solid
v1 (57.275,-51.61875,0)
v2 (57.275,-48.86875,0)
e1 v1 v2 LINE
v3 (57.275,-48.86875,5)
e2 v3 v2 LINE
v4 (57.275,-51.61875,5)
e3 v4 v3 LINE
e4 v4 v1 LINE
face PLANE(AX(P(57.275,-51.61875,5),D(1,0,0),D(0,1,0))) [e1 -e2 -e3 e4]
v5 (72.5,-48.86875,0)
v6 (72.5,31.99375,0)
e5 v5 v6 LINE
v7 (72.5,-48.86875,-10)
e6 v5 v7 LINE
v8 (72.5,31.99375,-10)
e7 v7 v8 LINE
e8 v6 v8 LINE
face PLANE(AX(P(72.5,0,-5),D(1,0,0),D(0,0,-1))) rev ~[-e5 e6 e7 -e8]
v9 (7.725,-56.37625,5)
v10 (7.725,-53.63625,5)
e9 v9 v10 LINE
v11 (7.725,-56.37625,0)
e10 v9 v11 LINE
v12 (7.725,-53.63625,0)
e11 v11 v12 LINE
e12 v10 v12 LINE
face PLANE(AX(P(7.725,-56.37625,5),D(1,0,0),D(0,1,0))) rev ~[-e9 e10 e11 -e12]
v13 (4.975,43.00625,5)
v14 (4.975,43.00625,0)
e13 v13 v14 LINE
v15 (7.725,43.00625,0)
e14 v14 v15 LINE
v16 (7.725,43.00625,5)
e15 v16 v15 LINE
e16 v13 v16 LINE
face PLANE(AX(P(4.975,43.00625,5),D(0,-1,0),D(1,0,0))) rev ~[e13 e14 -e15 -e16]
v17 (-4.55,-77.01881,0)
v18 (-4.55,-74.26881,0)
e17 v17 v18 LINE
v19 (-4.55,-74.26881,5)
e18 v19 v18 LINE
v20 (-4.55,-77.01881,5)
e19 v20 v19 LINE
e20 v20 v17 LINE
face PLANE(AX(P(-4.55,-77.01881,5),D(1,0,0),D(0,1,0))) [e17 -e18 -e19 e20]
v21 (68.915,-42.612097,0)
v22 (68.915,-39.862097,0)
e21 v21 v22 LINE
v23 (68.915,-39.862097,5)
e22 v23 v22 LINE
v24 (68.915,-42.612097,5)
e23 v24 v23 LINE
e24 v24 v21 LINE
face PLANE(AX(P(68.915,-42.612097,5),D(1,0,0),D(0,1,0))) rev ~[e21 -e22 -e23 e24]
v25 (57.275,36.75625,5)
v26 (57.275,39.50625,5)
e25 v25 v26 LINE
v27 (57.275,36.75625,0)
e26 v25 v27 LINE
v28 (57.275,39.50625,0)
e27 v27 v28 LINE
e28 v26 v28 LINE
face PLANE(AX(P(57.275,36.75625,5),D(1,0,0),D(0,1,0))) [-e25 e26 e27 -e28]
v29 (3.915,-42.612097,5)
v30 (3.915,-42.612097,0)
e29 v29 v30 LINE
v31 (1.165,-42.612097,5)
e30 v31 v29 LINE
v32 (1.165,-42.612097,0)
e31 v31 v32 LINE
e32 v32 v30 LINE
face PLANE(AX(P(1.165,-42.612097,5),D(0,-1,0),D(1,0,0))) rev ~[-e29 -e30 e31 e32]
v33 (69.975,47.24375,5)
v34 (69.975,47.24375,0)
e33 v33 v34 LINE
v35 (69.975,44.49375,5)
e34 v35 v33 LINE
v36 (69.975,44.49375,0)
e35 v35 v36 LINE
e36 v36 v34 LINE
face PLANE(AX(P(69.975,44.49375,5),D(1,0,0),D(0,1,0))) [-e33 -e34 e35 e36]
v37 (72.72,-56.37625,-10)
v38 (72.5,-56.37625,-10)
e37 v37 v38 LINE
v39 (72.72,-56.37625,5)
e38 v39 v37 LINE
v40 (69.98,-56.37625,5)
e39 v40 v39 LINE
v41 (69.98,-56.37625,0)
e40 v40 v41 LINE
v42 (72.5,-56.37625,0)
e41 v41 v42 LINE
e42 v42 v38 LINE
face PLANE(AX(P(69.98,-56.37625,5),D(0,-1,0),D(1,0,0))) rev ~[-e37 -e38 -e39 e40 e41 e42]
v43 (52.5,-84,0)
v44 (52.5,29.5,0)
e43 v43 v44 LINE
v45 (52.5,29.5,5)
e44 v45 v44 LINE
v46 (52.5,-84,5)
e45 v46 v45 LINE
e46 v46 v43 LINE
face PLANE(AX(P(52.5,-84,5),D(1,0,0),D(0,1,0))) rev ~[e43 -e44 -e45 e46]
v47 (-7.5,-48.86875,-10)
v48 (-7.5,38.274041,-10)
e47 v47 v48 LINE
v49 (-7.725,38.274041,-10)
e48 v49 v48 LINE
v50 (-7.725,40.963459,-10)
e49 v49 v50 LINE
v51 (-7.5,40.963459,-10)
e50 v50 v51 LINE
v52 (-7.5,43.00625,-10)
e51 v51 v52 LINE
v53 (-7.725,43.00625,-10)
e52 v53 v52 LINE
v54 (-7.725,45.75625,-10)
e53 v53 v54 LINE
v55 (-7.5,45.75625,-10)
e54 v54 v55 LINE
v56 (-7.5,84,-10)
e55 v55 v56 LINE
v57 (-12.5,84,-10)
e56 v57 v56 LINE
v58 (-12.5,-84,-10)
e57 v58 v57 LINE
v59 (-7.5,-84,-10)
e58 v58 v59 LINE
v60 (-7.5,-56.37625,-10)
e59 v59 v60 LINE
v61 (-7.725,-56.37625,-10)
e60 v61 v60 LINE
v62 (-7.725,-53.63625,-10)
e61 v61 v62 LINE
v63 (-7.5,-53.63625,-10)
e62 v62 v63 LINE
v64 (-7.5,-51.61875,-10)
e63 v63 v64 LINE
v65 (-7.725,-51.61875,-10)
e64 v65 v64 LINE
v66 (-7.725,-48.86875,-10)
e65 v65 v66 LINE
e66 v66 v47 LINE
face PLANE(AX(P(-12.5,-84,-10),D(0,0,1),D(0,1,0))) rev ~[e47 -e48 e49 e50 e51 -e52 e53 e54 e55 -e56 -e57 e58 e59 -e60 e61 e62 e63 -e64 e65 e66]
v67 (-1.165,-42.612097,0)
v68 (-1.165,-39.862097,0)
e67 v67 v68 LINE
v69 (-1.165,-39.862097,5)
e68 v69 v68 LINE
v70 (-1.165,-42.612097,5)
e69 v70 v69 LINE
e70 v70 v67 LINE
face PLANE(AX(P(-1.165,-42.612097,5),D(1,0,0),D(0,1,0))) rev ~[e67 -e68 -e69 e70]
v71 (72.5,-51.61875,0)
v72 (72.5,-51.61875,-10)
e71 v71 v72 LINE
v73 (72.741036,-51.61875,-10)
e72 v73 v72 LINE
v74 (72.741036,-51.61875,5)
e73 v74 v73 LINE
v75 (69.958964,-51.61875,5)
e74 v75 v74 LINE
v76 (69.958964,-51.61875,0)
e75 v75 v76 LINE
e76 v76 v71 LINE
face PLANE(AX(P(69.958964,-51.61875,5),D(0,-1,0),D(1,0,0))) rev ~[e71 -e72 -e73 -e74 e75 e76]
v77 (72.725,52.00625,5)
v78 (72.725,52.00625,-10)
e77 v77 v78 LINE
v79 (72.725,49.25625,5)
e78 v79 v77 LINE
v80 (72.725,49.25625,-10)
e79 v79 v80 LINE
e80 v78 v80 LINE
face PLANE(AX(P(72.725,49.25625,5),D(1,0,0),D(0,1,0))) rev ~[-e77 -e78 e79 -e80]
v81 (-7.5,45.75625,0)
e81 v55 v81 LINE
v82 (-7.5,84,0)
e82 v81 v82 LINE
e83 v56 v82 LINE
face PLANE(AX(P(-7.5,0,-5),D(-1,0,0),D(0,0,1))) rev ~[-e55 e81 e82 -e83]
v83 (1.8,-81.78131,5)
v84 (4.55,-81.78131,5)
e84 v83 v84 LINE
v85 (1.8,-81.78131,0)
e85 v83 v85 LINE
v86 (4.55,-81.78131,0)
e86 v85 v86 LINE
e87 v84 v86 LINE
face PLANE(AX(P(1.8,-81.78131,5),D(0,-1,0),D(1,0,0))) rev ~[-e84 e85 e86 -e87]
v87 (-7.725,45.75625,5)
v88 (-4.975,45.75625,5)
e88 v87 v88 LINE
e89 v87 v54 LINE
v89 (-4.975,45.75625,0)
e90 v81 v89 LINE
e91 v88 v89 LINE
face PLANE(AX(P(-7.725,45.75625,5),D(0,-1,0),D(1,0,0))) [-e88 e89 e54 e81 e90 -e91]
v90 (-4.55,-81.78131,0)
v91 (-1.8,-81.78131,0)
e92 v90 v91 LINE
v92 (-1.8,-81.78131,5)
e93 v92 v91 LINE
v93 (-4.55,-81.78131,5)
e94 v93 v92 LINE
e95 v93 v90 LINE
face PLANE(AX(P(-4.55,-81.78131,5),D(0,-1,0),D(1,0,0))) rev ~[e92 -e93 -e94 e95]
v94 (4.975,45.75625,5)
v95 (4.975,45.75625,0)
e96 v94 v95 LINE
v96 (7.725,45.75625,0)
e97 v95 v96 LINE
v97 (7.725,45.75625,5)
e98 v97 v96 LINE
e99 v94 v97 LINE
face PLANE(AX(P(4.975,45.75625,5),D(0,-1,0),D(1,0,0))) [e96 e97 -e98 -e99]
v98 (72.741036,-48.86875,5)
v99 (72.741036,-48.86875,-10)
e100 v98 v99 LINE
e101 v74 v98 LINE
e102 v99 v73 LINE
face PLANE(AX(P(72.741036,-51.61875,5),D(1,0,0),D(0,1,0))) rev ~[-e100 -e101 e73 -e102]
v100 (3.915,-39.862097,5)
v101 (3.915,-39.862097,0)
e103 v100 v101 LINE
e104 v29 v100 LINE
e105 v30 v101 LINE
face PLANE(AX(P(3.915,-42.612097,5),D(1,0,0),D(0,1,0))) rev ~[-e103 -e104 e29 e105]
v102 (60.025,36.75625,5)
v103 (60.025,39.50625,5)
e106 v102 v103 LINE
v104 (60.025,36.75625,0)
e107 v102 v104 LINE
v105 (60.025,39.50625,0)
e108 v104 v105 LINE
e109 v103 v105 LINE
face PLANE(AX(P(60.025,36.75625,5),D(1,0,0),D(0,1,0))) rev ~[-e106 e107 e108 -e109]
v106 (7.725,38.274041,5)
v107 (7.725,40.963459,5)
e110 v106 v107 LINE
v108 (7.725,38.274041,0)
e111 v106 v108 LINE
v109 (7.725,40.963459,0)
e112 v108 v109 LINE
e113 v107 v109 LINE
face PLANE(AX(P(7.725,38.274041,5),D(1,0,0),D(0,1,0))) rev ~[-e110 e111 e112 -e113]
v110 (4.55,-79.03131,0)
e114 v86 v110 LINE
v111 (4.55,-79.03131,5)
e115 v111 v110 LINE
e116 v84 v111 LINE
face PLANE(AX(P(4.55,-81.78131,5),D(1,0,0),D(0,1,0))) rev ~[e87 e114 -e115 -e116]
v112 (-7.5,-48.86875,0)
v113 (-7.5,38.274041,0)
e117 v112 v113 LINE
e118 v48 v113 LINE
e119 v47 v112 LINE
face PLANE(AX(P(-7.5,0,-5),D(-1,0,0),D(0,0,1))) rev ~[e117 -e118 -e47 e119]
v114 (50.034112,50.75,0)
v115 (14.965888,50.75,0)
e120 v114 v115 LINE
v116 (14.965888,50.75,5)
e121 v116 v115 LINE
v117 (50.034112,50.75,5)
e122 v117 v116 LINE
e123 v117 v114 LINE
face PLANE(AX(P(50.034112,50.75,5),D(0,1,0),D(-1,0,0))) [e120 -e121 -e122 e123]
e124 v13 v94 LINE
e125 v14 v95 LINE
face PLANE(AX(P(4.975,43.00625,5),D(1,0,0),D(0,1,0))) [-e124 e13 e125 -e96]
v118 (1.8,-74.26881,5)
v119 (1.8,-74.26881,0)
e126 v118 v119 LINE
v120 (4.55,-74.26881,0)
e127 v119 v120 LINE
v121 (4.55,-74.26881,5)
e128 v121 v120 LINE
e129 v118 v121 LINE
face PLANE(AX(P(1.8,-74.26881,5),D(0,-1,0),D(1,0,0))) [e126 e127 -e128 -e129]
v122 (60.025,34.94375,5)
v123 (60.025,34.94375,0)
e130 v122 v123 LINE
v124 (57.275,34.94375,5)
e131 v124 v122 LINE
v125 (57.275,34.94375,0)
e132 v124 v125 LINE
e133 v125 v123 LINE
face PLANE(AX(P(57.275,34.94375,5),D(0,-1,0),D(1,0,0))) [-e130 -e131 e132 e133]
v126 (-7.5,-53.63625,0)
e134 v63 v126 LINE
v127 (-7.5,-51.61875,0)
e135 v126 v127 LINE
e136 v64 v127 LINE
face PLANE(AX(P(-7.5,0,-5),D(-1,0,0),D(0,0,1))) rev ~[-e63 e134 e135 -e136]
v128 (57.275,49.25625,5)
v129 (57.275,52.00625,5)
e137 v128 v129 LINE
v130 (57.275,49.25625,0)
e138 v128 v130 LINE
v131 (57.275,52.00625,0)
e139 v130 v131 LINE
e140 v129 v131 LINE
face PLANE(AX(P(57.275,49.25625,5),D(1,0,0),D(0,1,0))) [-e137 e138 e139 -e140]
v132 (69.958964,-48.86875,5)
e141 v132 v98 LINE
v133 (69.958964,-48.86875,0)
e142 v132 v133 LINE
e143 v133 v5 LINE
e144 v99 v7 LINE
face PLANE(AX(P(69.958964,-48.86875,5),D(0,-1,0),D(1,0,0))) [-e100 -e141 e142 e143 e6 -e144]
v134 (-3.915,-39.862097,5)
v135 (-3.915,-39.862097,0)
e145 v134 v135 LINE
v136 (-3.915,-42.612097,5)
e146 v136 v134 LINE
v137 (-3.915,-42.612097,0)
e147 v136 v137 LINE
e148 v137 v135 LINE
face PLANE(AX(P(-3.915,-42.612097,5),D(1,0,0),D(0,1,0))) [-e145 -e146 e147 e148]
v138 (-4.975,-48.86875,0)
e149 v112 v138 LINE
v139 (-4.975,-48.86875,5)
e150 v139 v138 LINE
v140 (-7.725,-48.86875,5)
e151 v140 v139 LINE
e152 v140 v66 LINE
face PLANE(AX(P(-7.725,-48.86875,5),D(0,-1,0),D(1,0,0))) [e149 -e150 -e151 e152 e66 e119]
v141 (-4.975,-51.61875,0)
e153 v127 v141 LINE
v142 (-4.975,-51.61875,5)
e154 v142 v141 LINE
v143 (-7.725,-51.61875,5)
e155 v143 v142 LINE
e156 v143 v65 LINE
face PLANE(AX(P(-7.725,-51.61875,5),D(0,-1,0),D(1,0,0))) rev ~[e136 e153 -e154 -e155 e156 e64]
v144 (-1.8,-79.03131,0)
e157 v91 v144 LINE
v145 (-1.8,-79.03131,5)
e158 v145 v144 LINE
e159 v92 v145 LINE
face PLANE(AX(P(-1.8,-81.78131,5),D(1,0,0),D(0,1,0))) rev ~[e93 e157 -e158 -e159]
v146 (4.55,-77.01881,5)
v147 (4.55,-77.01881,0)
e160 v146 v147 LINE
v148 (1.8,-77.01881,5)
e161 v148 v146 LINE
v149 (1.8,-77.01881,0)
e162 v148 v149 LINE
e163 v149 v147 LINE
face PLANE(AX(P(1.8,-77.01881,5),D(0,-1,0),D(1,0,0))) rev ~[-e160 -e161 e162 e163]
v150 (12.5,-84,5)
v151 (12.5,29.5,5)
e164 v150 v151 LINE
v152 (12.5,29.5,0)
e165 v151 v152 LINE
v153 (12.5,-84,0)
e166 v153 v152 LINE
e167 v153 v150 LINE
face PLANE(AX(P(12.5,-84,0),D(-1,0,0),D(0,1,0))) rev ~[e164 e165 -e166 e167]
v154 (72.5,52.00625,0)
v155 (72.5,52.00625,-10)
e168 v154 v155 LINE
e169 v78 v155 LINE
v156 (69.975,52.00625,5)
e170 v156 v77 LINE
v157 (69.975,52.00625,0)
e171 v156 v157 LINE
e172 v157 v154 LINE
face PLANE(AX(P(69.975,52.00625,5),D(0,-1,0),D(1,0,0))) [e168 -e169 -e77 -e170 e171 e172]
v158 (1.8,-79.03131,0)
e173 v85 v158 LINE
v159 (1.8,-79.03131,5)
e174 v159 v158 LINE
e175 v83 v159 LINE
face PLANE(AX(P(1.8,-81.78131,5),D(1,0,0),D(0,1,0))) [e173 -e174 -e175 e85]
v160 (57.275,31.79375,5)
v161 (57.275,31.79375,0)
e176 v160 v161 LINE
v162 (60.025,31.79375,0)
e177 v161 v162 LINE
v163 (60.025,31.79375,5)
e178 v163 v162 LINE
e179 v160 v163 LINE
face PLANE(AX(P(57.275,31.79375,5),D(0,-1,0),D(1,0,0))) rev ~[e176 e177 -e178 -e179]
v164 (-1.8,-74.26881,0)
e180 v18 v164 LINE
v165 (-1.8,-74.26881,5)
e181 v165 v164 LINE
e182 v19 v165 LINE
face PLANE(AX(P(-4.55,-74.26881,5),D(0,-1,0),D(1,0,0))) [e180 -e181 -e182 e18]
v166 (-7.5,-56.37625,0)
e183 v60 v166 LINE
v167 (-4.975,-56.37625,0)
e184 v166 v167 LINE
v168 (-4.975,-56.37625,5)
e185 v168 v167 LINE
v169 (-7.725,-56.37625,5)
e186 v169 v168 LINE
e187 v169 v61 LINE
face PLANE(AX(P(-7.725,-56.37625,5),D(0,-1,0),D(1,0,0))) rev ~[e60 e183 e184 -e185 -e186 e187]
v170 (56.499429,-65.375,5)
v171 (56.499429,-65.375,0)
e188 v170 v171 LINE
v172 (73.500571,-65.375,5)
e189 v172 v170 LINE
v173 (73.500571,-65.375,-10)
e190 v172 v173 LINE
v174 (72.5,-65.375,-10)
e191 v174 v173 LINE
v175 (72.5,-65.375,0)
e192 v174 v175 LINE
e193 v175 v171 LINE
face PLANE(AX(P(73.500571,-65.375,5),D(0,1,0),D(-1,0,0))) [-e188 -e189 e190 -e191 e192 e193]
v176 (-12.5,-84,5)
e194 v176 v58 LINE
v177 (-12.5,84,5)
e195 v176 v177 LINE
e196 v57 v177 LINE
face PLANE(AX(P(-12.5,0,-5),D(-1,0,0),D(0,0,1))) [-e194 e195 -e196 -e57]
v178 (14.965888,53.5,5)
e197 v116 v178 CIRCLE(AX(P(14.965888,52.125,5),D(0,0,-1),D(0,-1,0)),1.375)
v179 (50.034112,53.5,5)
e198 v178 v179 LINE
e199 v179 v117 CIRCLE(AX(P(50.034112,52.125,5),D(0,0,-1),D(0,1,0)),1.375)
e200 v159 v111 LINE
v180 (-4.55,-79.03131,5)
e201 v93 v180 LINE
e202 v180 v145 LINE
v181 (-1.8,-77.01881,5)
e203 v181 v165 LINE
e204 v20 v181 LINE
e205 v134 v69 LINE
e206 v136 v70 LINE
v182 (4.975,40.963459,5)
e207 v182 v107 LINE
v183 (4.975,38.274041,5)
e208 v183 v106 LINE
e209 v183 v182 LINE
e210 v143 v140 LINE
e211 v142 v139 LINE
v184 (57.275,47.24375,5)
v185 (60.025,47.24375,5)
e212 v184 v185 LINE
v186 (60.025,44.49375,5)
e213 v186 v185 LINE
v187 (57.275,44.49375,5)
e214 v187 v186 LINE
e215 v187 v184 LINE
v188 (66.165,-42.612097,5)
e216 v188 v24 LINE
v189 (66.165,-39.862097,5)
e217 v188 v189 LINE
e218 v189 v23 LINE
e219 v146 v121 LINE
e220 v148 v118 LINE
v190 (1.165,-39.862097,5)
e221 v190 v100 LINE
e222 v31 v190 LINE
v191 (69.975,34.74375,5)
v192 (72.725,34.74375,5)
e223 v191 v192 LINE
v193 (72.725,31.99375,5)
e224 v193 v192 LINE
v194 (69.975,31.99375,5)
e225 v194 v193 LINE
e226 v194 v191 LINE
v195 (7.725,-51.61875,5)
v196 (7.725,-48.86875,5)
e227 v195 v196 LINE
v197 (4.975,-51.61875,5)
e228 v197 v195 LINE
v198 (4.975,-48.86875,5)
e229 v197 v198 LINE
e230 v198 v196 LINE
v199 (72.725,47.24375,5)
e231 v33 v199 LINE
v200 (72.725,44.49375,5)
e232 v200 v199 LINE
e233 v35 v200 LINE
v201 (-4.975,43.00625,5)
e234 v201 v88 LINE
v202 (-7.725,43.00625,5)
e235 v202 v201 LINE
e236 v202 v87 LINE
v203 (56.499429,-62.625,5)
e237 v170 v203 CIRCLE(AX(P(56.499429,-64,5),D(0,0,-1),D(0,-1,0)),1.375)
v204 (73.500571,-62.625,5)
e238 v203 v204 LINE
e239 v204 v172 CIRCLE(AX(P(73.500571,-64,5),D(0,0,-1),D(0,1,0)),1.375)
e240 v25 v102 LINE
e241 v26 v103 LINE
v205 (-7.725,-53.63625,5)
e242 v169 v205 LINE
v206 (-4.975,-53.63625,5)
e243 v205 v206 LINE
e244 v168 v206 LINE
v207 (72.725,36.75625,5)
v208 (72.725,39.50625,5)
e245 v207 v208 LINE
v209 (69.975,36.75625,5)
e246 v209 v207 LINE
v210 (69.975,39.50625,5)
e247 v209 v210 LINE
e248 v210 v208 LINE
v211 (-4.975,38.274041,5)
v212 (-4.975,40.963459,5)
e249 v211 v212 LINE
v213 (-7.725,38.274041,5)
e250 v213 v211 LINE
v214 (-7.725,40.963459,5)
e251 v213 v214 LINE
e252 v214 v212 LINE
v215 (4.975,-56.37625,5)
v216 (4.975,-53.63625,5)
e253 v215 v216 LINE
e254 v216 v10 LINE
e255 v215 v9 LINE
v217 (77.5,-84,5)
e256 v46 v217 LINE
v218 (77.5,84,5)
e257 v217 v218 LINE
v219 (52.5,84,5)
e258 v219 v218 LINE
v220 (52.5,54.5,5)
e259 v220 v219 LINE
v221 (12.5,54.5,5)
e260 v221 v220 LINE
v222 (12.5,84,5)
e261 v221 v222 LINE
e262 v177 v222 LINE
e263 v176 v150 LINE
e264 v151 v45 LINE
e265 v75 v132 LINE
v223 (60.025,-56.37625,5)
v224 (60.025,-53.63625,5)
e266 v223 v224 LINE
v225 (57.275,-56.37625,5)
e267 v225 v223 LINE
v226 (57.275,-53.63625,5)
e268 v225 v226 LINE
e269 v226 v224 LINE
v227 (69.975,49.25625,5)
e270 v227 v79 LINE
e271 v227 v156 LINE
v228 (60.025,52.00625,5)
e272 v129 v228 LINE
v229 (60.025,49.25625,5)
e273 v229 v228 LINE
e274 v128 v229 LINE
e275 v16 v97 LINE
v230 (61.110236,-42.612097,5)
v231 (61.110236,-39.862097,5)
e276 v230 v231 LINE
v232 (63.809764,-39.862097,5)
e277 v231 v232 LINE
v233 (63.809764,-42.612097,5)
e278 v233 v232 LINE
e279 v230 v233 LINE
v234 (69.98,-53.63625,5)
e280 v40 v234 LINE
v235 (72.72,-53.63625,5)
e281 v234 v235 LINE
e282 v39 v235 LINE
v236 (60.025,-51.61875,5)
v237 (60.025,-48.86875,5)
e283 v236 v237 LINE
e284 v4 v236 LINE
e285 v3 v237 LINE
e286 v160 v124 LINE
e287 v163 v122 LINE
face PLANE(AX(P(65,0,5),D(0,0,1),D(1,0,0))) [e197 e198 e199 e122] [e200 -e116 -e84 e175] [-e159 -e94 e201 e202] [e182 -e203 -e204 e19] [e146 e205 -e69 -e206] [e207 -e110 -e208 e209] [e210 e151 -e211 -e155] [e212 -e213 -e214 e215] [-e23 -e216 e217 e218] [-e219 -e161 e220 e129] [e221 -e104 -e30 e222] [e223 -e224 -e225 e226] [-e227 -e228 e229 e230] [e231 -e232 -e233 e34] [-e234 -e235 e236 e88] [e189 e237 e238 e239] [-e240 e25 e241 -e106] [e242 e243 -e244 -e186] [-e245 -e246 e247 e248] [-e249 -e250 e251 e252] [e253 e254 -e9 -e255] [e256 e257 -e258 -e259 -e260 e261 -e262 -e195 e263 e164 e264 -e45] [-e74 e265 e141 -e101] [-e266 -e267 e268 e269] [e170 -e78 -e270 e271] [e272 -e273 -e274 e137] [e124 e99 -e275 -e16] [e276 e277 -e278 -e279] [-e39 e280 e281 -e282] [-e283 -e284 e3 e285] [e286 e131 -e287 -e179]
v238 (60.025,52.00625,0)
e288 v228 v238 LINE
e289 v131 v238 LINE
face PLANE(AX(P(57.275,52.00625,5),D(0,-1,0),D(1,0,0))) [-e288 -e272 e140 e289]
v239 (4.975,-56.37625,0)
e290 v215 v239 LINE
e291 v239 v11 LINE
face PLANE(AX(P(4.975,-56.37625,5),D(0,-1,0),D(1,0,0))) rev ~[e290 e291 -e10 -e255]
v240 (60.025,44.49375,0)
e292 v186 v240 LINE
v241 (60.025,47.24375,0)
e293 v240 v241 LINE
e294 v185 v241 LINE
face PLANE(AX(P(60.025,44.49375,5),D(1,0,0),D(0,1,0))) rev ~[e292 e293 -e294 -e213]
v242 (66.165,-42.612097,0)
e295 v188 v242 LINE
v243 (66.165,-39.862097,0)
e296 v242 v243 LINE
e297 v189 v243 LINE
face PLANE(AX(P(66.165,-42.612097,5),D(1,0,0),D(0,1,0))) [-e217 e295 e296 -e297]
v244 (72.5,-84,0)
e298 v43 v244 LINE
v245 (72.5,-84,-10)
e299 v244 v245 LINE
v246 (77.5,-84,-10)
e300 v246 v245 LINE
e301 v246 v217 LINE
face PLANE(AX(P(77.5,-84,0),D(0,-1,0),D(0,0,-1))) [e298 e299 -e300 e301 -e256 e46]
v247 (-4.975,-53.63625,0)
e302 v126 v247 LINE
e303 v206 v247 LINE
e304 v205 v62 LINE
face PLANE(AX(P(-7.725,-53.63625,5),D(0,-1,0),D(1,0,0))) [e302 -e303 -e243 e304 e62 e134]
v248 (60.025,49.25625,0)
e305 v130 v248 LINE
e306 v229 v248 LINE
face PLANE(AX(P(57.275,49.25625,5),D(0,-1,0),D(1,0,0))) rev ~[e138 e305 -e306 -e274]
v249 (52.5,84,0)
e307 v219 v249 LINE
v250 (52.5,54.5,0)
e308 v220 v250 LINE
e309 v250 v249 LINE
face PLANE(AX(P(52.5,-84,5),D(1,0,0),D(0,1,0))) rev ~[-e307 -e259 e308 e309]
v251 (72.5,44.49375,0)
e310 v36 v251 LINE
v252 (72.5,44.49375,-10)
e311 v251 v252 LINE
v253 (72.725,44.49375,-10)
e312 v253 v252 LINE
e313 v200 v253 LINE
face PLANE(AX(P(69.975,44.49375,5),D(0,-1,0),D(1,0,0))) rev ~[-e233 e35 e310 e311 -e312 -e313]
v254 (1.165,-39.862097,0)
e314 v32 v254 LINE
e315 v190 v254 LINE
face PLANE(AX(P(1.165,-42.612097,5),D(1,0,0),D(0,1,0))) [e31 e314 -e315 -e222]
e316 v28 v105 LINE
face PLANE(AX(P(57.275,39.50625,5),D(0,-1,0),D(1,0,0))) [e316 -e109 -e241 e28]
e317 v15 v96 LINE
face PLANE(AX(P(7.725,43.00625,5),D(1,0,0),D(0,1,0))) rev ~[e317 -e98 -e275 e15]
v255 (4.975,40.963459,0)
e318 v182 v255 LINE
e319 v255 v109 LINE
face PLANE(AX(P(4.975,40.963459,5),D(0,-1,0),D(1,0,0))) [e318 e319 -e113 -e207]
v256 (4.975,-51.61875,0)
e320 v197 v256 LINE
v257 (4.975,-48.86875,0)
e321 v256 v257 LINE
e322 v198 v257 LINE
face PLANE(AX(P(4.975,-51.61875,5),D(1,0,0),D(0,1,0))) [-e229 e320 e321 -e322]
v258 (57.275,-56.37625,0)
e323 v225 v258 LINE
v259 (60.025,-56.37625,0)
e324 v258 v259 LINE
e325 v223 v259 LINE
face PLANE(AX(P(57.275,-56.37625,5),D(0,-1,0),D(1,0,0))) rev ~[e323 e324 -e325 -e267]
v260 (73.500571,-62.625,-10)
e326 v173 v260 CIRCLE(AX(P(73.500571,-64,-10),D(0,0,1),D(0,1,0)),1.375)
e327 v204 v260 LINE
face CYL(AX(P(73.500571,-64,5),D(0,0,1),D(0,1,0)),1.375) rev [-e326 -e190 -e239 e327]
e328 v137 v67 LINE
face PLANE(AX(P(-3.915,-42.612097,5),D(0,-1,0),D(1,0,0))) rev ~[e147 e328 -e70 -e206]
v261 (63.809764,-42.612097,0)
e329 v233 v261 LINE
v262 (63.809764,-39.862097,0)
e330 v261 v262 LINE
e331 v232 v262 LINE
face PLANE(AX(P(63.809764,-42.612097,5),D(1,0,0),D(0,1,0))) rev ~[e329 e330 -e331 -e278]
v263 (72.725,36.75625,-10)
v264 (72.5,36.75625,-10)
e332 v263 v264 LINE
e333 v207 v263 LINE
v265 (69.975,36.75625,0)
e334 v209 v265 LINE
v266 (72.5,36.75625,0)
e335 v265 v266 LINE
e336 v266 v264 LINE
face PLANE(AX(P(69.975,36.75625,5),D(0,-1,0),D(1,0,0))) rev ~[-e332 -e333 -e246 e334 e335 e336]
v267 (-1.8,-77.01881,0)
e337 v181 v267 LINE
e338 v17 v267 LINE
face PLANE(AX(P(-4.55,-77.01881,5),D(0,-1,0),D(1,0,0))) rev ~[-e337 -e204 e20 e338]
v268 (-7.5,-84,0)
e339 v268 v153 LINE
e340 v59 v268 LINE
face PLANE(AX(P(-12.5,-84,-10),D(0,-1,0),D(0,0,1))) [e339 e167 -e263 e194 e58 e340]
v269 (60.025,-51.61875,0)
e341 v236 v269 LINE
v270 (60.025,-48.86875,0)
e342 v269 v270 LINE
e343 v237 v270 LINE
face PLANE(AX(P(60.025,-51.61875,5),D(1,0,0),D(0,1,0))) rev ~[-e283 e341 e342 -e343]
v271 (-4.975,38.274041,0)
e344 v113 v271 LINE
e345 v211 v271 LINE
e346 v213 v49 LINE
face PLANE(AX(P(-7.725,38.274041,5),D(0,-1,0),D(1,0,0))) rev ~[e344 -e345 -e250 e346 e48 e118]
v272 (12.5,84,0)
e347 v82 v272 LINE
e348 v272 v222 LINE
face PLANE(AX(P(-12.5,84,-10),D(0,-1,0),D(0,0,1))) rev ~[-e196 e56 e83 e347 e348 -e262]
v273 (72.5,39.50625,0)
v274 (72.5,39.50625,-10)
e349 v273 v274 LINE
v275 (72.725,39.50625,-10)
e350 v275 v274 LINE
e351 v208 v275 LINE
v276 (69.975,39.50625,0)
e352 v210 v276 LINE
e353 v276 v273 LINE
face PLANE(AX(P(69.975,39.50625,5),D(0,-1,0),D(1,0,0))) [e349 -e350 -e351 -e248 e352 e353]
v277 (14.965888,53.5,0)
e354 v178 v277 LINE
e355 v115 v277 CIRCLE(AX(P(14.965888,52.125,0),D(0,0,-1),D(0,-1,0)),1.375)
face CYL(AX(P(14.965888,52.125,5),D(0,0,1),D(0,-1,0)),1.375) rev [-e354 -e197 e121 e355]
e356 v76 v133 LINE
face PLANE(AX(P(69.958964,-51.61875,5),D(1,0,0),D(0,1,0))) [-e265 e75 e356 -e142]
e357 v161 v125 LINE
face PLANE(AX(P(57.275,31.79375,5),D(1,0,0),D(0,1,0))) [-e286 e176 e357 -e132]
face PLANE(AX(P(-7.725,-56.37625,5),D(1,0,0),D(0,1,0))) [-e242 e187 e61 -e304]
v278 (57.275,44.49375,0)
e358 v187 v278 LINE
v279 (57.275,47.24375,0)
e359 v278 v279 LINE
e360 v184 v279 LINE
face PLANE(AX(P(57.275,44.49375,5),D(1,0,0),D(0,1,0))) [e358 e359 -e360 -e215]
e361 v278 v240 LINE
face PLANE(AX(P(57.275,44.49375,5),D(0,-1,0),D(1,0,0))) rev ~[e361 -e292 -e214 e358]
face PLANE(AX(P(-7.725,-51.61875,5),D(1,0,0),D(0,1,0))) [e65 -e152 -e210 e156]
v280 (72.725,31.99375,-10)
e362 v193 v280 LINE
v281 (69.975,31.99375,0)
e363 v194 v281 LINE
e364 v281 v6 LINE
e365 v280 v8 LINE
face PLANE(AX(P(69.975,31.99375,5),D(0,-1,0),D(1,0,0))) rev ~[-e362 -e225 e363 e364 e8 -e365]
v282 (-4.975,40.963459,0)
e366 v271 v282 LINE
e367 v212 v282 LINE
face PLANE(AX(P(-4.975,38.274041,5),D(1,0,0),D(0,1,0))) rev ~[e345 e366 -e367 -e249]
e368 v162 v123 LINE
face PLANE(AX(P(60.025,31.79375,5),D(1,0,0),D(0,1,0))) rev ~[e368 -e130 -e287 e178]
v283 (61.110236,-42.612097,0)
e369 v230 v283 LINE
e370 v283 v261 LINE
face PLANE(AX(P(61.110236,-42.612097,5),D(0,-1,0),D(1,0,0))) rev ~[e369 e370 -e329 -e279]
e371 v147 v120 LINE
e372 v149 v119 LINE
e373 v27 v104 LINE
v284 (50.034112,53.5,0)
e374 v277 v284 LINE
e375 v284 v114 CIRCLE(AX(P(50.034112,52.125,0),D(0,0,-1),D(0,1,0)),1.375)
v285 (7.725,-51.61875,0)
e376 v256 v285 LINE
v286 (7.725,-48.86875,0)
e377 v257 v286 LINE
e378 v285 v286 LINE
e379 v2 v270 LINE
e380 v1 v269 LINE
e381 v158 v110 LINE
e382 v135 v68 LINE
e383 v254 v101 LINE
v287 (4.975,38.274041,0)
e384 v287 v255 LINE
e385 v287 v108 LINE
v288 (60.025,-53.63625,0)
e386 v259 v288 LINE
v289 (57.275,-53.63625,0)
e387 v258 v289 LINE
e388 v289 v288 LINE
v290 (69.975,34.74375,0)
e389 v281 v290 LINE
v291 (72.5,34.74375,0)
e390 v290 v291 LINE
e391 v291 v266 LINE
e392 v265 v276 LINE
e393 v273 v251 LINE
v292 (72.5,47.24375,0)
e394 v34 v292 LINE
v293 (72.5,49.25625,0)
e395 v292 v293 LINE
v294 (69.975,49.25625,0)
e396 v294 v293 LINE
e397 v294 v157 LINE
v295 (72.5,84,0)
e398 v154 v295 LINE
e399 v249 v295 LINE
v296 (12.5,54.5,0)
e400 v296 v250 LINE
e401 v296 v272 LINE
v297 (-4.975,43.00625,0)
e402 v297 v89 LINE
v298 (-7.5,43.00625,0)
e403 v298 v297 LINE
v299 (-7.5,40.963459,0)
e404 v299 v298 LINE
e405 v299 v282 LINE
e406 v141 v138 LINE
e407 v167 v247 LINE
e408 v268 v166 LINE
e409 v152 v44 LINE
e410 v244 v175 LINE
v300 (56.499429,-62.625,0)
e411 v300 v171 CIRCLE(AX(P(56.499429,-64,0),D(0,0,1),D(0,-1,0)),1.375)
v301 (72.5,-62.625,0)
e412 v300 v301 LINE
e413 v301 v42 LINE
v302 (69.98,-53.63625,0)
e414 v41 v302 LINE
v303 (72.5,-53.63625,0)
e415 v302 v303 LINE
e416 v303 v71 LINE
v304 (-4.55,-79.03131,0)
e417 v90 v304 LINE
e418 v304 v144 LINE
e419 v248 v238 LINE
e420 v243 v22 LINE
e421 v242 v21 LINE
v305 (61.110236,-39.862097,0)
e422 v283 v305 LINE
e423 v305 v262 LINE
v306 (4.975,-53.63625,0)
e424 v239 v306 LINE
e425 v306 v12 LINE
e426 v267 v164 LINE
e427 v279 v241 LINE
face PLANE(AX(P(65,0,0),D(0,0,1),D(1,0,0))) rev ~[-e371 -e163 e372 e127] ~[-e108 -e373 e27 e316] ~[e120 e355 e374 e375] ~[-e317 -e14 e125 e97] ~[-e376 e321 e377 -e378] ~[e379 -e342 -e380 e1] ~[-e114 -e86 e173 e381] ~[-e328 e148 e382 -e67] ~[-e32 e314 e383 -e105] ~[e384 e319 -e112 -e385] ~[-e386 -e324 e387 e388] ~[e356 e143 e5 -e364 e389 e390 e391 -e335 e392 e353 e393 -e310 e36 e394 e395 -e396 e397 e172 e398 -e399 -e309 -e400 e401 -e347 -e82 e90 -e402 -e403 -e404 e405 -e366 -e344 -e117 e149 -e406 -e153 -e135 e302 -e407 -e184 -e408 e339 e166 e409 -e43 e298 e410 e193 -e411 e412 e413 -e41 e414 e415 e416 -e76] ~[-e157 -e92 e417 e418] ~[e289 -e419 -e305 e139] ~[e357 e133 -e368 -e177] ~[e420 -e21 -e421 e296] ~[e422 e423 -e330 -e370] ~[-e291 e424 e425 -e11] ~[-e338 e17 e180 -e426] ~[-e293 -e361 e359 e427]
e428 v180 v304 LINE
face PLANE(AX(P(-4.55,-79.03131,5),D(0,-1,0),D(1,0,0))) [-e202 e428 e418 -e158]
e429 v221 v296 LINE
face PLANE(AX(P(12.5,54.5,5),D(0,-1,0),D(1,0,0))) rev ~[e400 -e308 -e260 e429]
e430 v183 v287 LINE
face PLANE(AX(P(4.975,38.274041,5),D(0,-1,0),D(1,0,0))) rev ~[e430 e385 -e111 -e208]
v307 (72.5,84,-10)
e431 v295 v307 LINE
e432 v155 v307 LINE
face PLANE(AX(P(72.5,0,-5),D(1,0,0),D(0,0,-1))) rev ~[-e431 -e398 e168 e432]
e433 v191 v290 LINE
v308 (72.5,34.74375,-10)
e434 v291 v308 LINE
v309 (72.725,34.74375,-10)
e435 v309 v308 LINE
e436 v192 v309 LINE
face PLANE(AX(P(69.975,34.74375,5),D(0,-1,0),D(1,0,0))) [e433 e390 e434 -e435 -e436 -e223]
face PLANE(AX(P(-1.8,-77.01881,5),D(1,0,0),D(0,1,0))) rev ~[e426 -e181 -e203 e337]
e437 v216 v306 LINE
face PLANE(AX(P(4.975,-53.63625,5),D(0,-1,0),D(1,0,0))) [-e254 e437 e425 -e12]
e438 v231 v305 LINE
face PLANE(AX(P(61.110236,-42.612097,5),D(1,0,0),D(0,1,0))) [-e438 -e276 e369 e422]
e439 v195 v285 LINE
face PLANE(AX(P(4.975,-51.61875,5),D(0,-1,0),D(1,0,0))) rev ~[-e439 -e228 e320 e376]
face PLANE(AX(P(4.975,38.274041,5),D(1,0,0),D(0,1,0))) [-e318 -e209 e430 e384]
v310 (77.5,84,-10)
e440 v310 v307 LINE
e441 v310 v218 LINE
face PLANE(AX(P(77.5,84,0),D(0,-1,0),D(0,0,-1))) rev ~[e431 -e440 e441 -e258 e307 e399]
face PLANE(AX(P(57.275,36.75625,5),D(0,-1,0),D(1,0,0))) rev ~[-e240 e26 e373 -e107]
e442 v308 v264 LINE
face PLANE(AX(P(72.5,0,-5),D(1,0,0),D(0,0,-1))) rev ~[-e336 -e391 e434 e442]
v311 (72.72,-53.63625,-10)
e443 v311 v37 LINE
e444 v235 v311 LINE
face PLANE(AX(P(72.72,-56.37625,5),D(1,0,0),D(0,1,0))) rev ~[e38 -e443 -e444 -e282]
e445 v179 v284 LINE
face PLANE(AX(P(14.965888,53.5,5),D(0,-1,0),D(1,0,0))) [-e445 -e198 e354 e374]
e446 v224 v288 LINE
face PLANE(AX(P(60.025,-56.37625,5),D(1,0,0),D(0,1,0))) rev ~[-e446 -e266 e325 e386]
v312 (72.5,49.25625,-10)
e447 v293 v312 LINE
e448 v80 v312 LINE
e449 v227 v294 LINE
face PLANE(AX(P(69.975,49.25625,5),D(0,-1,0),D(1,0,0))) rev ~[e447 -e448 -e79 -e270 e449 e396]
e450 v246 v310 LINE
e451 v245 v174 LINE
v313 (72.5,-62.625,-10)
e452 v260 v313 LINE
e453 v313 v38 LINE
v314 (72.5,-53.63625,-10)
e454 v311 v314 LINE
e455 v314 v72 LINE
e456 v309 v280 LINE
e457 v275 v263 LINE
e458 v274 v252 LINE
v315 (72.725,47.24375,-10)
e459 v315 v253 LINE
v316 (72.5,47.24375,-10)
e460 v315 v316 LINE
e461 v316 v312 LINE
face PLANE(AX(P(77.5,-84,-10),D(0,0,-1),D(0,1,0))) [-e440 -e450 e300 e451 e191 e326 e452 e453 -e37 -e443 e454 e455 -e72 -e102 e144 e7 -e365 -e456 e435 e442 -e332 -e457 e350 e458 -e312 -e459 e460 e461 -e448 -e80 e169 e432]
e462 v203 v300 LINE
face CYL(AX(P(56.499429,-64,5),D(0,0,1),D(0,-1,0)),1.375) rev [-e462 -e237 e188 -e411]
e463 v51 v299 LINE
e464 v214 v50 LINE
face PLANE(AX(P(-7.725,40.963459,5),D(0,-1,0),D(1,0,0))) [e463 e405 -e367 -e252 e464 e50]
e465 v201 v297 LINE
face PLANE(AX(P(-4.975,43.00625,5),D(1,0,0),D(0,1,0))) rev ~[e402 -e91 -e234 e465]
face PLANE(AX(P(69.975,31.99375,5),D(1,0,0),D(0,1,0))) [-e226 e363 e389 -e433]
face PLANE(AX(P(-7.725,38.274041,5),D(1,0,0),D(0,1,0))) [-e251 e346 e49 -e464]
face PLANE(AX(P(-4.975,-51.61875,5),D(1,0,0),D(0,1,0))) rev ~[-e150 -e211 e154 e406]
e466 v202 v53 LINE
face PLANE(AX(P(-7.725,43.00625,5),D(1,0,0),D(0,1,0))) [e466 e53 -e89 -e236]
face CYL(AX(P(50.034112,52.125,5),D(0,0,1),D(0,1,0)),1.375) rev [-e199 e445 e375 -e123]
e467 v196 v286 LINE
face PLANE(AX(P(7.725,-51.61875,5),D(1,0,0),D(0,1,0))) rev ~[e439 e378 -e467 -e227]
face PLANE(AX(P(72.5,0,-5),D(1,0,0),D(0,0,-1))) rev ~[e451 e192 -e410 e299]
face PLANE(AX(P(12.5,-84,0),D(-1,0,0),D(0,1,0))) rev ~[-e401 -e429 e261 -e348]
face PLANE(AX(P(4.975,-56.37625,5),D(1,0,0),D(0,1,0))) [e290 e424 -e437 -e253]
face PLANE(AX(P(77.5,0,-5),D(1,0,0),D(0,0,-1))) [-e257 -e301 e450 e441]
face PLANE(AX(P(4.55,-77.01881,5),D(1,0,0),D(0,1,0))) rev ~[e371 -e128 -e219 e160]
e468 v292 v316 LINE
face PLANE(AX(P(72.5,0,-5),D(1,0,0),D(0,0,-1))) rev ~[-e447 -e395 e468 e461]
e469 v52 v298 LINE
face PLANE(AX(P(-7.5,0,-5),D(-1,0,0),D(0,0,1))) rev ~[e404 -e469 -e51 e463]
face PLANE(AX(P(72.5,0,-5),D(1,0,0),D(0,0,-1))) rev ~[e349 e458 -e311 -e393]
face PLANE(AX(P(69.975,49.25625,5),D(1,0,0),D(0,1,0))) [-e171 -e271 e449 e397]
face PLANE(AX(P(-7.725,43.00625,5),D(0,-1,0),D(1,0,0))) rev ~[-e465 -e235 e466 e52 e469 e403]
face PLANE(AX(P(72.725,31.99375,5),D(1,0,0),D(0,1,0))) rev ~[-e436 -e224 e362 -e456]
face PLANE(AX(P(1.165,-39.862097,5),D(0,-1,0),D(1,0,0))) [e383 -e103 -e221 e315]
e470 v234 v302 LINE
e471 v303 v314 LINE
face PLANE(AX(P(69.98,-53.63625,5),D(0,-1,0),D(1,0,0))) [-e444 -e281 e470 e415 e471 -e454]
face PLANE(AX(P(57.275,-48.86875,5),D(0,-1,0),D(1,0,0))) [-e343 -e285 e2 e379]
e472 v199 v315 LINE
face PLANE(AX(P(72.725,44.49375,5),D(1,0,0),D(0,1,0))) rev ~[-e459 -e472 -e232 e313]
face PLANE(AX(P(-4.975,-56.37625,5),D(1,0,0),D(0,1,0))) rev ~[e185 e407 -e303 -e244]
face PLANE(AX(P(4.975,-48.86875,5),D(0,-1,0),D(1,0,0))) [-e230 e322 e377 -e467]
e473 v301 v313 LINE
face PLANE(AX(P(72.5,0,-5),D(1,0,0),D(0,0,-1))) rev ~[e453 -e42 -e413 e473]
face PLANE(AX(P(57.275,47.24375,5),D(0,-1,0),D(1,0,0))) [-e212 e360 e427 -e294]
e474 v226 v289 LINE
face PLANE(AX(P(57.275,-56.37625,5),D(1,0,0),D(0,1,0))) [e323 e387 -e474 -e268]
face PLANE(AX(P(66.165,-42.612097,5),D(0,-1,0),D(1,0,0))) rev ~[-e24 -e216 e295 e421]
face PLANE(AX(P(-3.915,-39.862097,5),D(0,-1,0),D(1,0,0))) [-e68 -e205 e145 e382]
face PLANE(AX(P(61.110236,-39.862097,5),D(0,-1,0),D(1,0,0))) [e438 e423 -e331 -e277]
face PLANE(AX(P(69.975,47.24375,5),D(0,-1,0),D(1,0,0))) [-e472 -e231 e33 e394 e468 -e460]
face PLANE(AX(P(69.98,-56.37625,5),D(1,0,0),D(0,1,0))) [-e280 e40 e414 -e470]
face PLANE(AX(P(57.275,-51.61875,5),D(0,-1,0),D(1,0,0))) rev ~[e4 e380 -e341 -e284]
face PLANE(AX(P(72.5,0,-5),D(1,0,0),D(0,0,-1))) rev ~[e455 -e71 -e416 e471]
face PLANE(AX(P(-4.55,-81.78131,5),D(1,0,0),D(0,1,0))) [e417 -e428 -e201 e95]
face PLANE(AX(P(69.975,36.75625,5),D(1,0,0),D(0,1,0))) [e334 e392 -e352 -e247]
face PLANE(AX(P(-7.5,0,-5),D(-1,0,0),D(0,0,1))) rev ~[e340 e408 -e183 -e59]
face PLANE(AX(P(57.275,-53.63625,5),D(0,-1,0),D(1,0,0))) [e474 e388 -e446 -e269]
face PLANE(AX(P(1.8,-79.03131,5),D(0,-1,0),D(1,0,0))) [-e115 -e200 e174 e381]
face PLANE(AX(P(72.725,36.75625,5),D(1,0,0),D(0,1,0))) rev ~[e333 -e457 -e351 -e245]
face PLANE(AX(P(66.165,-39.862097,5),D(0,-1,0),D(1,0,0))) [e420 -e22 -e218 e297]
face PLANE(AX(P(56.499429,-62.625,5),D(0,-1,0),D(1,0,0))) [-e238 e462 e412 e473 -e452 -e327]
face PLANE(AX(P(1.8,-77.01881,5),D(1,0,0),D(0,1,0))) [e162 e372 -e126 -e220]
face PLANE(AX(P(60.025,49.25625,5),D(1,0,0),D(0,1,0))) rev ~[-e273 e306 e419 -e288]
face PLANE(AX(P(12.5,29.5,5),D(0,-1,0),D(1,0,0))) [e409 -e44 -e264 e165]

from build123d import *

# Parameters (mm, degrees)
SKETCH2_W           = 25
SKETCH2_H           = 168
BOSS_EXTRUDE1_DEPTH = 5
SKETCH3_W           = 10
SKETCH3_H           = 168
BOSS_EXTRUDE2_DEPTH = 5
SKETCH4_W           = 40
SKETCH4_H           = 25
BOSS_EXTRUDE3_DEPTH = 5
SKETCH5_W           = 25
SKETCH5_H           = 168
BOSS_EXTRUDE4_DEPTH = 5
SKETCH6_W           = 10
SKETCH6_H           = 168
BOSS_EXTRUDE5_DEPTH = 5
CUT_EXTRUDE1_DEPTH  = 5
CUT_EXTRUDE2_DEPTH  = 20
SKETCH9_W           = 2.75
SKETCH9_H           = 2.75
SKETCH9_H_2         = 2.689417066
CUT_EXTRUDE3_DEPTH  = 20
SKETCH10_W          = 2.75
SKETCH10_H          = 2.75
SKETCH10_H_2        = 3.15
CUT_EXTRUDE4_DEPTH  = 20
SKETCH11_W          = 2.75
SKETCH11_H          = 2.75
SKETCH11_W_2        = 2.782071424
SKETCH11_W_3        = 2.74
SKETCH11_H_2        = 2.74
CUT_EXTRUDE5_DEPTH  = 20
SKETCH12_W          = 2.75
SKETCH12_H          = 2.75
CUT_EXTRUDE6_DEPTH  = 20
SKETCH13_W          = 2.75
SKETCH13_H          = 2.75
SKETCH13_W_2        = 2.699527024
CUT_EXTRUDE7_DEPTH  = 20


with BuildPart() as part:
    # Sketch2 → Boss-Extrude1 (new body)
    with BuildSketch(Plane.XY):
        Rectangle(SKETCH2_W, SKETCH2_H)
    extrude(amount=BOSS_EXTRUDE1_DEPTH)

    # Sketch3 → Boss-Extrude2 (add)
    with BuildSketch(Plane.ZY.offset(12.5)):
        with Locations((-5, 0)):
            Rectangle(SKETCH3_W, SKETCH3_H)
    extrude(amount=-BOSS_EXTRUDE2_DEPTH)

    # Sketch4 → Boss-Extrude3 (add)
    with BuildSketch(Plane.XY.offset(5)):
        with Locations((32.5, 42)):
            Rectangle(SKETCH4_W, SKETCH4_H)
    extrude(amount=-BOSS_EXTRUDE3_DEPTH)

    # Sketch5 → Boss-Extrude4 (add)
    with BuildSketch(Plane.XY.offset(5)):
        with Locations((65, 0)):
            Rectangle(SKETCH5_W, SKETCH5_H)
    extrude(amount=-BOSS_EXTRUDE4_DEPTH)

    # Sketch6 → Boss-Extrude5 (add)
    with BuildSketch(Plane(origin=(77.5, 0, 0), x_dir=(0, 0, -1), z_dir=(1, 0, 0))):
        with Locations((5, 0)):
            Rectangle(SKETCH6_W, SKETCH6_H)
    extrude(amount=-BOSS_EXTRUDE5_DEPTH)

    # Sketch7 → Cut-Extrude1 (cut)
    with BuildSketch(Plane.XY.offset(5)):
        with BuildLine():
            Line((14.965887672, 53.5), (50.034112328, 53.5))
            ThreePointArc((50.034112328, 53.5), (51.409112328, 52.125), (50.034112328, 50.75))
            Line((50.034112328, 50.75), (14.965887672, 50.75))
            ThreePointArc((14.965887672, 50.75), (13.590887672, 52.125), (14.965887672, 53.5))
        make_face()
    extrude(amount=-CUT_EXTRUDE1_DEPTH, mode=Mode.SUBTRACT)

    # Sketch8 → Cut-Extrude2 (cut)
    with BuildSketch(Plane.XY.offset(5)):
        with BuildLine():
            Line((73.500571176, -65.375), (56.499428824, -65.375))
            ThreePointArc((56.499428824, -65.375), (55.124428824, -64), (56.499428824, -62.625))
            Line((56.499428824, -62.625), (73.500571176, -62.625))
            ThreePointArc((73.500571176, -62.625), (74.875571176, -64), (73.500571176, -65.375))
        make_face()
    extrude(amount=-CUT_EXTRUDE2_DEPTH, mode=Mode.SUBTRACT)

    # Sketch9 → Cut-Extrude3 (cut)
    with BuildSketch(Plane.XY.offset(5)):
        with Locations((6.35, 44.38125)):
            Rectangle(SKETCH9_W, SKETCH9_H)
        with Locations((-6.35, 44.38125)):
            Rectangle(SKETCH9_W, SKETCH9_H)
        with Locations((-6.35, 39.61875)):
            Rectangle(SKETCH9_W, SKETCH9_H_2)
        with Locations((6.35, 39.61875)):
            Rectangle(SKETCH9_W, SKETCH9_H_2)
    extrude(amount=-CUT_EXTRUDE3_DEPTH, mode=Mode.SUBTRACT)

    # Sketch10 → Cut-Extrude4 (cut)
    with BuildSketch(Plane.XY.offset(5)):
        with Locations((58.65, 50.63125)):
            Rectangle(SKETCH10_W, SKETCH10_H)
        with Locations((71.35, 50.63125)):
            Rectangle(SKETCH10_W, SKETCH10_H)
        with Locations((58.65, 45.86875)):
            Rectangle(SKETCH10_W, SKETCH10_H)
        with Locations((71.35, 45.86875)):
            Rectangle(SKETCH10_W, SKETCH10_H)
        with Locations((71.35, 38.13125)):
            Rectangle(SKETCH10_W, SKETCH10_H)
        with Locations((58.65, 38.13125)):
            Rectangle(SKETCH10_W, SKETCH10_H)
        with Locations((58.65, 33.36875)):
            Rectangle(SKETCH10_W, SKETCH10_H_2)
        with Locations((71.35, 33.36875)):
            Rectangle(SKETCH10_W, SKETCH10_H)
    extrude(amount=-CUT_EXTRUDE4_DEPTH, mode=Mode.SUBTRACT)

    # Sketch11 → Cut-Extrude5 (cut)
    with BuildSketch(Plane.XY.offset(5)):
        with Locations((58.65, -50.24375)):
            Rectangle(SKETCH11_W, SKETCH11_H)
        with Locations((71.35, -50.24375)):
            Rectangle(SKETCH11_W_2, SKETCH11_H)
        with Locations((71.35, -55.00625)):
            Rectangle(SKETCH11_W_3, SKETCH11_H_2)
        with Locations((58.65, -55.00625)):
            Rectangle(SKETCH11_W, SKETCH11_H_2)
        with Locations((-6.35, -50.24375)):
            Rectangle(SKETCH11_W, SKETCH11_H)
        with Locations((6.35, -50.24375)):
            Rectangle(SKETCH11_W, SKETCH11_H)
        with Locations((6.35, -55.00625)):
            Rectangle(SKETCH11_W, SKETCH11_H_2)
        with Locations((-6.35, -55.00625)):
            Rectangle(SKETCH11_W, SKETCH11_H_2)
    extrude(amount=-CUT_EXTRUDE5_DEPTH, mode=Mode.SUBTRACT)

    # Sketch12 → Cut-Extrude6 (cut)
    with BuildSketch(Plane.XY.offset(5)):
        with Locations((-3.175, -75.643809518)):
            Rectangle(SKETCH12_W, SKETCH12_H)
        with Locations((3.175, -75.643809518)):
            Rectangle(SKETCH12_W, SKETCH12_H)
        with Locations((3.175, -80.406309518)):
            Rectangle(SKETCH12_W, SKETCH12_H)
        with Locations((-3.175, -80.406309518)):
            Rectangle(SKETCH12_W, SKETCH12_H)
    extrude(amount=-CUT_EXTRUDE6_DEPTH, mode=Mode.SUBTRACT)

    # Sketch13 → Cut-Extrude7 (cut)
    with BuildSketch(Plane.XY.offset(5)):
        with Locations((-2.54, -41.237096808)):
            Rectangle(SKETCH13_W, SKETCH13_H)
        with Locations((2.54, -41.237096808)):
            Rectangle(SKETCH13_W, SKETCH13_H)
        with Locations((62.46, -41.237096808)):
            Rectangle(SKETCH13_W_2, SKETCH13_H)
        with Locations((67.54, -41.237096808)):
            Rectangle(SKETCH13_W, SKETCH13_H)
    extrude(amount=-CUT_EXTRUDE7_DEPTH, mode=Mode.SUBTRACT)


solid = part.part
